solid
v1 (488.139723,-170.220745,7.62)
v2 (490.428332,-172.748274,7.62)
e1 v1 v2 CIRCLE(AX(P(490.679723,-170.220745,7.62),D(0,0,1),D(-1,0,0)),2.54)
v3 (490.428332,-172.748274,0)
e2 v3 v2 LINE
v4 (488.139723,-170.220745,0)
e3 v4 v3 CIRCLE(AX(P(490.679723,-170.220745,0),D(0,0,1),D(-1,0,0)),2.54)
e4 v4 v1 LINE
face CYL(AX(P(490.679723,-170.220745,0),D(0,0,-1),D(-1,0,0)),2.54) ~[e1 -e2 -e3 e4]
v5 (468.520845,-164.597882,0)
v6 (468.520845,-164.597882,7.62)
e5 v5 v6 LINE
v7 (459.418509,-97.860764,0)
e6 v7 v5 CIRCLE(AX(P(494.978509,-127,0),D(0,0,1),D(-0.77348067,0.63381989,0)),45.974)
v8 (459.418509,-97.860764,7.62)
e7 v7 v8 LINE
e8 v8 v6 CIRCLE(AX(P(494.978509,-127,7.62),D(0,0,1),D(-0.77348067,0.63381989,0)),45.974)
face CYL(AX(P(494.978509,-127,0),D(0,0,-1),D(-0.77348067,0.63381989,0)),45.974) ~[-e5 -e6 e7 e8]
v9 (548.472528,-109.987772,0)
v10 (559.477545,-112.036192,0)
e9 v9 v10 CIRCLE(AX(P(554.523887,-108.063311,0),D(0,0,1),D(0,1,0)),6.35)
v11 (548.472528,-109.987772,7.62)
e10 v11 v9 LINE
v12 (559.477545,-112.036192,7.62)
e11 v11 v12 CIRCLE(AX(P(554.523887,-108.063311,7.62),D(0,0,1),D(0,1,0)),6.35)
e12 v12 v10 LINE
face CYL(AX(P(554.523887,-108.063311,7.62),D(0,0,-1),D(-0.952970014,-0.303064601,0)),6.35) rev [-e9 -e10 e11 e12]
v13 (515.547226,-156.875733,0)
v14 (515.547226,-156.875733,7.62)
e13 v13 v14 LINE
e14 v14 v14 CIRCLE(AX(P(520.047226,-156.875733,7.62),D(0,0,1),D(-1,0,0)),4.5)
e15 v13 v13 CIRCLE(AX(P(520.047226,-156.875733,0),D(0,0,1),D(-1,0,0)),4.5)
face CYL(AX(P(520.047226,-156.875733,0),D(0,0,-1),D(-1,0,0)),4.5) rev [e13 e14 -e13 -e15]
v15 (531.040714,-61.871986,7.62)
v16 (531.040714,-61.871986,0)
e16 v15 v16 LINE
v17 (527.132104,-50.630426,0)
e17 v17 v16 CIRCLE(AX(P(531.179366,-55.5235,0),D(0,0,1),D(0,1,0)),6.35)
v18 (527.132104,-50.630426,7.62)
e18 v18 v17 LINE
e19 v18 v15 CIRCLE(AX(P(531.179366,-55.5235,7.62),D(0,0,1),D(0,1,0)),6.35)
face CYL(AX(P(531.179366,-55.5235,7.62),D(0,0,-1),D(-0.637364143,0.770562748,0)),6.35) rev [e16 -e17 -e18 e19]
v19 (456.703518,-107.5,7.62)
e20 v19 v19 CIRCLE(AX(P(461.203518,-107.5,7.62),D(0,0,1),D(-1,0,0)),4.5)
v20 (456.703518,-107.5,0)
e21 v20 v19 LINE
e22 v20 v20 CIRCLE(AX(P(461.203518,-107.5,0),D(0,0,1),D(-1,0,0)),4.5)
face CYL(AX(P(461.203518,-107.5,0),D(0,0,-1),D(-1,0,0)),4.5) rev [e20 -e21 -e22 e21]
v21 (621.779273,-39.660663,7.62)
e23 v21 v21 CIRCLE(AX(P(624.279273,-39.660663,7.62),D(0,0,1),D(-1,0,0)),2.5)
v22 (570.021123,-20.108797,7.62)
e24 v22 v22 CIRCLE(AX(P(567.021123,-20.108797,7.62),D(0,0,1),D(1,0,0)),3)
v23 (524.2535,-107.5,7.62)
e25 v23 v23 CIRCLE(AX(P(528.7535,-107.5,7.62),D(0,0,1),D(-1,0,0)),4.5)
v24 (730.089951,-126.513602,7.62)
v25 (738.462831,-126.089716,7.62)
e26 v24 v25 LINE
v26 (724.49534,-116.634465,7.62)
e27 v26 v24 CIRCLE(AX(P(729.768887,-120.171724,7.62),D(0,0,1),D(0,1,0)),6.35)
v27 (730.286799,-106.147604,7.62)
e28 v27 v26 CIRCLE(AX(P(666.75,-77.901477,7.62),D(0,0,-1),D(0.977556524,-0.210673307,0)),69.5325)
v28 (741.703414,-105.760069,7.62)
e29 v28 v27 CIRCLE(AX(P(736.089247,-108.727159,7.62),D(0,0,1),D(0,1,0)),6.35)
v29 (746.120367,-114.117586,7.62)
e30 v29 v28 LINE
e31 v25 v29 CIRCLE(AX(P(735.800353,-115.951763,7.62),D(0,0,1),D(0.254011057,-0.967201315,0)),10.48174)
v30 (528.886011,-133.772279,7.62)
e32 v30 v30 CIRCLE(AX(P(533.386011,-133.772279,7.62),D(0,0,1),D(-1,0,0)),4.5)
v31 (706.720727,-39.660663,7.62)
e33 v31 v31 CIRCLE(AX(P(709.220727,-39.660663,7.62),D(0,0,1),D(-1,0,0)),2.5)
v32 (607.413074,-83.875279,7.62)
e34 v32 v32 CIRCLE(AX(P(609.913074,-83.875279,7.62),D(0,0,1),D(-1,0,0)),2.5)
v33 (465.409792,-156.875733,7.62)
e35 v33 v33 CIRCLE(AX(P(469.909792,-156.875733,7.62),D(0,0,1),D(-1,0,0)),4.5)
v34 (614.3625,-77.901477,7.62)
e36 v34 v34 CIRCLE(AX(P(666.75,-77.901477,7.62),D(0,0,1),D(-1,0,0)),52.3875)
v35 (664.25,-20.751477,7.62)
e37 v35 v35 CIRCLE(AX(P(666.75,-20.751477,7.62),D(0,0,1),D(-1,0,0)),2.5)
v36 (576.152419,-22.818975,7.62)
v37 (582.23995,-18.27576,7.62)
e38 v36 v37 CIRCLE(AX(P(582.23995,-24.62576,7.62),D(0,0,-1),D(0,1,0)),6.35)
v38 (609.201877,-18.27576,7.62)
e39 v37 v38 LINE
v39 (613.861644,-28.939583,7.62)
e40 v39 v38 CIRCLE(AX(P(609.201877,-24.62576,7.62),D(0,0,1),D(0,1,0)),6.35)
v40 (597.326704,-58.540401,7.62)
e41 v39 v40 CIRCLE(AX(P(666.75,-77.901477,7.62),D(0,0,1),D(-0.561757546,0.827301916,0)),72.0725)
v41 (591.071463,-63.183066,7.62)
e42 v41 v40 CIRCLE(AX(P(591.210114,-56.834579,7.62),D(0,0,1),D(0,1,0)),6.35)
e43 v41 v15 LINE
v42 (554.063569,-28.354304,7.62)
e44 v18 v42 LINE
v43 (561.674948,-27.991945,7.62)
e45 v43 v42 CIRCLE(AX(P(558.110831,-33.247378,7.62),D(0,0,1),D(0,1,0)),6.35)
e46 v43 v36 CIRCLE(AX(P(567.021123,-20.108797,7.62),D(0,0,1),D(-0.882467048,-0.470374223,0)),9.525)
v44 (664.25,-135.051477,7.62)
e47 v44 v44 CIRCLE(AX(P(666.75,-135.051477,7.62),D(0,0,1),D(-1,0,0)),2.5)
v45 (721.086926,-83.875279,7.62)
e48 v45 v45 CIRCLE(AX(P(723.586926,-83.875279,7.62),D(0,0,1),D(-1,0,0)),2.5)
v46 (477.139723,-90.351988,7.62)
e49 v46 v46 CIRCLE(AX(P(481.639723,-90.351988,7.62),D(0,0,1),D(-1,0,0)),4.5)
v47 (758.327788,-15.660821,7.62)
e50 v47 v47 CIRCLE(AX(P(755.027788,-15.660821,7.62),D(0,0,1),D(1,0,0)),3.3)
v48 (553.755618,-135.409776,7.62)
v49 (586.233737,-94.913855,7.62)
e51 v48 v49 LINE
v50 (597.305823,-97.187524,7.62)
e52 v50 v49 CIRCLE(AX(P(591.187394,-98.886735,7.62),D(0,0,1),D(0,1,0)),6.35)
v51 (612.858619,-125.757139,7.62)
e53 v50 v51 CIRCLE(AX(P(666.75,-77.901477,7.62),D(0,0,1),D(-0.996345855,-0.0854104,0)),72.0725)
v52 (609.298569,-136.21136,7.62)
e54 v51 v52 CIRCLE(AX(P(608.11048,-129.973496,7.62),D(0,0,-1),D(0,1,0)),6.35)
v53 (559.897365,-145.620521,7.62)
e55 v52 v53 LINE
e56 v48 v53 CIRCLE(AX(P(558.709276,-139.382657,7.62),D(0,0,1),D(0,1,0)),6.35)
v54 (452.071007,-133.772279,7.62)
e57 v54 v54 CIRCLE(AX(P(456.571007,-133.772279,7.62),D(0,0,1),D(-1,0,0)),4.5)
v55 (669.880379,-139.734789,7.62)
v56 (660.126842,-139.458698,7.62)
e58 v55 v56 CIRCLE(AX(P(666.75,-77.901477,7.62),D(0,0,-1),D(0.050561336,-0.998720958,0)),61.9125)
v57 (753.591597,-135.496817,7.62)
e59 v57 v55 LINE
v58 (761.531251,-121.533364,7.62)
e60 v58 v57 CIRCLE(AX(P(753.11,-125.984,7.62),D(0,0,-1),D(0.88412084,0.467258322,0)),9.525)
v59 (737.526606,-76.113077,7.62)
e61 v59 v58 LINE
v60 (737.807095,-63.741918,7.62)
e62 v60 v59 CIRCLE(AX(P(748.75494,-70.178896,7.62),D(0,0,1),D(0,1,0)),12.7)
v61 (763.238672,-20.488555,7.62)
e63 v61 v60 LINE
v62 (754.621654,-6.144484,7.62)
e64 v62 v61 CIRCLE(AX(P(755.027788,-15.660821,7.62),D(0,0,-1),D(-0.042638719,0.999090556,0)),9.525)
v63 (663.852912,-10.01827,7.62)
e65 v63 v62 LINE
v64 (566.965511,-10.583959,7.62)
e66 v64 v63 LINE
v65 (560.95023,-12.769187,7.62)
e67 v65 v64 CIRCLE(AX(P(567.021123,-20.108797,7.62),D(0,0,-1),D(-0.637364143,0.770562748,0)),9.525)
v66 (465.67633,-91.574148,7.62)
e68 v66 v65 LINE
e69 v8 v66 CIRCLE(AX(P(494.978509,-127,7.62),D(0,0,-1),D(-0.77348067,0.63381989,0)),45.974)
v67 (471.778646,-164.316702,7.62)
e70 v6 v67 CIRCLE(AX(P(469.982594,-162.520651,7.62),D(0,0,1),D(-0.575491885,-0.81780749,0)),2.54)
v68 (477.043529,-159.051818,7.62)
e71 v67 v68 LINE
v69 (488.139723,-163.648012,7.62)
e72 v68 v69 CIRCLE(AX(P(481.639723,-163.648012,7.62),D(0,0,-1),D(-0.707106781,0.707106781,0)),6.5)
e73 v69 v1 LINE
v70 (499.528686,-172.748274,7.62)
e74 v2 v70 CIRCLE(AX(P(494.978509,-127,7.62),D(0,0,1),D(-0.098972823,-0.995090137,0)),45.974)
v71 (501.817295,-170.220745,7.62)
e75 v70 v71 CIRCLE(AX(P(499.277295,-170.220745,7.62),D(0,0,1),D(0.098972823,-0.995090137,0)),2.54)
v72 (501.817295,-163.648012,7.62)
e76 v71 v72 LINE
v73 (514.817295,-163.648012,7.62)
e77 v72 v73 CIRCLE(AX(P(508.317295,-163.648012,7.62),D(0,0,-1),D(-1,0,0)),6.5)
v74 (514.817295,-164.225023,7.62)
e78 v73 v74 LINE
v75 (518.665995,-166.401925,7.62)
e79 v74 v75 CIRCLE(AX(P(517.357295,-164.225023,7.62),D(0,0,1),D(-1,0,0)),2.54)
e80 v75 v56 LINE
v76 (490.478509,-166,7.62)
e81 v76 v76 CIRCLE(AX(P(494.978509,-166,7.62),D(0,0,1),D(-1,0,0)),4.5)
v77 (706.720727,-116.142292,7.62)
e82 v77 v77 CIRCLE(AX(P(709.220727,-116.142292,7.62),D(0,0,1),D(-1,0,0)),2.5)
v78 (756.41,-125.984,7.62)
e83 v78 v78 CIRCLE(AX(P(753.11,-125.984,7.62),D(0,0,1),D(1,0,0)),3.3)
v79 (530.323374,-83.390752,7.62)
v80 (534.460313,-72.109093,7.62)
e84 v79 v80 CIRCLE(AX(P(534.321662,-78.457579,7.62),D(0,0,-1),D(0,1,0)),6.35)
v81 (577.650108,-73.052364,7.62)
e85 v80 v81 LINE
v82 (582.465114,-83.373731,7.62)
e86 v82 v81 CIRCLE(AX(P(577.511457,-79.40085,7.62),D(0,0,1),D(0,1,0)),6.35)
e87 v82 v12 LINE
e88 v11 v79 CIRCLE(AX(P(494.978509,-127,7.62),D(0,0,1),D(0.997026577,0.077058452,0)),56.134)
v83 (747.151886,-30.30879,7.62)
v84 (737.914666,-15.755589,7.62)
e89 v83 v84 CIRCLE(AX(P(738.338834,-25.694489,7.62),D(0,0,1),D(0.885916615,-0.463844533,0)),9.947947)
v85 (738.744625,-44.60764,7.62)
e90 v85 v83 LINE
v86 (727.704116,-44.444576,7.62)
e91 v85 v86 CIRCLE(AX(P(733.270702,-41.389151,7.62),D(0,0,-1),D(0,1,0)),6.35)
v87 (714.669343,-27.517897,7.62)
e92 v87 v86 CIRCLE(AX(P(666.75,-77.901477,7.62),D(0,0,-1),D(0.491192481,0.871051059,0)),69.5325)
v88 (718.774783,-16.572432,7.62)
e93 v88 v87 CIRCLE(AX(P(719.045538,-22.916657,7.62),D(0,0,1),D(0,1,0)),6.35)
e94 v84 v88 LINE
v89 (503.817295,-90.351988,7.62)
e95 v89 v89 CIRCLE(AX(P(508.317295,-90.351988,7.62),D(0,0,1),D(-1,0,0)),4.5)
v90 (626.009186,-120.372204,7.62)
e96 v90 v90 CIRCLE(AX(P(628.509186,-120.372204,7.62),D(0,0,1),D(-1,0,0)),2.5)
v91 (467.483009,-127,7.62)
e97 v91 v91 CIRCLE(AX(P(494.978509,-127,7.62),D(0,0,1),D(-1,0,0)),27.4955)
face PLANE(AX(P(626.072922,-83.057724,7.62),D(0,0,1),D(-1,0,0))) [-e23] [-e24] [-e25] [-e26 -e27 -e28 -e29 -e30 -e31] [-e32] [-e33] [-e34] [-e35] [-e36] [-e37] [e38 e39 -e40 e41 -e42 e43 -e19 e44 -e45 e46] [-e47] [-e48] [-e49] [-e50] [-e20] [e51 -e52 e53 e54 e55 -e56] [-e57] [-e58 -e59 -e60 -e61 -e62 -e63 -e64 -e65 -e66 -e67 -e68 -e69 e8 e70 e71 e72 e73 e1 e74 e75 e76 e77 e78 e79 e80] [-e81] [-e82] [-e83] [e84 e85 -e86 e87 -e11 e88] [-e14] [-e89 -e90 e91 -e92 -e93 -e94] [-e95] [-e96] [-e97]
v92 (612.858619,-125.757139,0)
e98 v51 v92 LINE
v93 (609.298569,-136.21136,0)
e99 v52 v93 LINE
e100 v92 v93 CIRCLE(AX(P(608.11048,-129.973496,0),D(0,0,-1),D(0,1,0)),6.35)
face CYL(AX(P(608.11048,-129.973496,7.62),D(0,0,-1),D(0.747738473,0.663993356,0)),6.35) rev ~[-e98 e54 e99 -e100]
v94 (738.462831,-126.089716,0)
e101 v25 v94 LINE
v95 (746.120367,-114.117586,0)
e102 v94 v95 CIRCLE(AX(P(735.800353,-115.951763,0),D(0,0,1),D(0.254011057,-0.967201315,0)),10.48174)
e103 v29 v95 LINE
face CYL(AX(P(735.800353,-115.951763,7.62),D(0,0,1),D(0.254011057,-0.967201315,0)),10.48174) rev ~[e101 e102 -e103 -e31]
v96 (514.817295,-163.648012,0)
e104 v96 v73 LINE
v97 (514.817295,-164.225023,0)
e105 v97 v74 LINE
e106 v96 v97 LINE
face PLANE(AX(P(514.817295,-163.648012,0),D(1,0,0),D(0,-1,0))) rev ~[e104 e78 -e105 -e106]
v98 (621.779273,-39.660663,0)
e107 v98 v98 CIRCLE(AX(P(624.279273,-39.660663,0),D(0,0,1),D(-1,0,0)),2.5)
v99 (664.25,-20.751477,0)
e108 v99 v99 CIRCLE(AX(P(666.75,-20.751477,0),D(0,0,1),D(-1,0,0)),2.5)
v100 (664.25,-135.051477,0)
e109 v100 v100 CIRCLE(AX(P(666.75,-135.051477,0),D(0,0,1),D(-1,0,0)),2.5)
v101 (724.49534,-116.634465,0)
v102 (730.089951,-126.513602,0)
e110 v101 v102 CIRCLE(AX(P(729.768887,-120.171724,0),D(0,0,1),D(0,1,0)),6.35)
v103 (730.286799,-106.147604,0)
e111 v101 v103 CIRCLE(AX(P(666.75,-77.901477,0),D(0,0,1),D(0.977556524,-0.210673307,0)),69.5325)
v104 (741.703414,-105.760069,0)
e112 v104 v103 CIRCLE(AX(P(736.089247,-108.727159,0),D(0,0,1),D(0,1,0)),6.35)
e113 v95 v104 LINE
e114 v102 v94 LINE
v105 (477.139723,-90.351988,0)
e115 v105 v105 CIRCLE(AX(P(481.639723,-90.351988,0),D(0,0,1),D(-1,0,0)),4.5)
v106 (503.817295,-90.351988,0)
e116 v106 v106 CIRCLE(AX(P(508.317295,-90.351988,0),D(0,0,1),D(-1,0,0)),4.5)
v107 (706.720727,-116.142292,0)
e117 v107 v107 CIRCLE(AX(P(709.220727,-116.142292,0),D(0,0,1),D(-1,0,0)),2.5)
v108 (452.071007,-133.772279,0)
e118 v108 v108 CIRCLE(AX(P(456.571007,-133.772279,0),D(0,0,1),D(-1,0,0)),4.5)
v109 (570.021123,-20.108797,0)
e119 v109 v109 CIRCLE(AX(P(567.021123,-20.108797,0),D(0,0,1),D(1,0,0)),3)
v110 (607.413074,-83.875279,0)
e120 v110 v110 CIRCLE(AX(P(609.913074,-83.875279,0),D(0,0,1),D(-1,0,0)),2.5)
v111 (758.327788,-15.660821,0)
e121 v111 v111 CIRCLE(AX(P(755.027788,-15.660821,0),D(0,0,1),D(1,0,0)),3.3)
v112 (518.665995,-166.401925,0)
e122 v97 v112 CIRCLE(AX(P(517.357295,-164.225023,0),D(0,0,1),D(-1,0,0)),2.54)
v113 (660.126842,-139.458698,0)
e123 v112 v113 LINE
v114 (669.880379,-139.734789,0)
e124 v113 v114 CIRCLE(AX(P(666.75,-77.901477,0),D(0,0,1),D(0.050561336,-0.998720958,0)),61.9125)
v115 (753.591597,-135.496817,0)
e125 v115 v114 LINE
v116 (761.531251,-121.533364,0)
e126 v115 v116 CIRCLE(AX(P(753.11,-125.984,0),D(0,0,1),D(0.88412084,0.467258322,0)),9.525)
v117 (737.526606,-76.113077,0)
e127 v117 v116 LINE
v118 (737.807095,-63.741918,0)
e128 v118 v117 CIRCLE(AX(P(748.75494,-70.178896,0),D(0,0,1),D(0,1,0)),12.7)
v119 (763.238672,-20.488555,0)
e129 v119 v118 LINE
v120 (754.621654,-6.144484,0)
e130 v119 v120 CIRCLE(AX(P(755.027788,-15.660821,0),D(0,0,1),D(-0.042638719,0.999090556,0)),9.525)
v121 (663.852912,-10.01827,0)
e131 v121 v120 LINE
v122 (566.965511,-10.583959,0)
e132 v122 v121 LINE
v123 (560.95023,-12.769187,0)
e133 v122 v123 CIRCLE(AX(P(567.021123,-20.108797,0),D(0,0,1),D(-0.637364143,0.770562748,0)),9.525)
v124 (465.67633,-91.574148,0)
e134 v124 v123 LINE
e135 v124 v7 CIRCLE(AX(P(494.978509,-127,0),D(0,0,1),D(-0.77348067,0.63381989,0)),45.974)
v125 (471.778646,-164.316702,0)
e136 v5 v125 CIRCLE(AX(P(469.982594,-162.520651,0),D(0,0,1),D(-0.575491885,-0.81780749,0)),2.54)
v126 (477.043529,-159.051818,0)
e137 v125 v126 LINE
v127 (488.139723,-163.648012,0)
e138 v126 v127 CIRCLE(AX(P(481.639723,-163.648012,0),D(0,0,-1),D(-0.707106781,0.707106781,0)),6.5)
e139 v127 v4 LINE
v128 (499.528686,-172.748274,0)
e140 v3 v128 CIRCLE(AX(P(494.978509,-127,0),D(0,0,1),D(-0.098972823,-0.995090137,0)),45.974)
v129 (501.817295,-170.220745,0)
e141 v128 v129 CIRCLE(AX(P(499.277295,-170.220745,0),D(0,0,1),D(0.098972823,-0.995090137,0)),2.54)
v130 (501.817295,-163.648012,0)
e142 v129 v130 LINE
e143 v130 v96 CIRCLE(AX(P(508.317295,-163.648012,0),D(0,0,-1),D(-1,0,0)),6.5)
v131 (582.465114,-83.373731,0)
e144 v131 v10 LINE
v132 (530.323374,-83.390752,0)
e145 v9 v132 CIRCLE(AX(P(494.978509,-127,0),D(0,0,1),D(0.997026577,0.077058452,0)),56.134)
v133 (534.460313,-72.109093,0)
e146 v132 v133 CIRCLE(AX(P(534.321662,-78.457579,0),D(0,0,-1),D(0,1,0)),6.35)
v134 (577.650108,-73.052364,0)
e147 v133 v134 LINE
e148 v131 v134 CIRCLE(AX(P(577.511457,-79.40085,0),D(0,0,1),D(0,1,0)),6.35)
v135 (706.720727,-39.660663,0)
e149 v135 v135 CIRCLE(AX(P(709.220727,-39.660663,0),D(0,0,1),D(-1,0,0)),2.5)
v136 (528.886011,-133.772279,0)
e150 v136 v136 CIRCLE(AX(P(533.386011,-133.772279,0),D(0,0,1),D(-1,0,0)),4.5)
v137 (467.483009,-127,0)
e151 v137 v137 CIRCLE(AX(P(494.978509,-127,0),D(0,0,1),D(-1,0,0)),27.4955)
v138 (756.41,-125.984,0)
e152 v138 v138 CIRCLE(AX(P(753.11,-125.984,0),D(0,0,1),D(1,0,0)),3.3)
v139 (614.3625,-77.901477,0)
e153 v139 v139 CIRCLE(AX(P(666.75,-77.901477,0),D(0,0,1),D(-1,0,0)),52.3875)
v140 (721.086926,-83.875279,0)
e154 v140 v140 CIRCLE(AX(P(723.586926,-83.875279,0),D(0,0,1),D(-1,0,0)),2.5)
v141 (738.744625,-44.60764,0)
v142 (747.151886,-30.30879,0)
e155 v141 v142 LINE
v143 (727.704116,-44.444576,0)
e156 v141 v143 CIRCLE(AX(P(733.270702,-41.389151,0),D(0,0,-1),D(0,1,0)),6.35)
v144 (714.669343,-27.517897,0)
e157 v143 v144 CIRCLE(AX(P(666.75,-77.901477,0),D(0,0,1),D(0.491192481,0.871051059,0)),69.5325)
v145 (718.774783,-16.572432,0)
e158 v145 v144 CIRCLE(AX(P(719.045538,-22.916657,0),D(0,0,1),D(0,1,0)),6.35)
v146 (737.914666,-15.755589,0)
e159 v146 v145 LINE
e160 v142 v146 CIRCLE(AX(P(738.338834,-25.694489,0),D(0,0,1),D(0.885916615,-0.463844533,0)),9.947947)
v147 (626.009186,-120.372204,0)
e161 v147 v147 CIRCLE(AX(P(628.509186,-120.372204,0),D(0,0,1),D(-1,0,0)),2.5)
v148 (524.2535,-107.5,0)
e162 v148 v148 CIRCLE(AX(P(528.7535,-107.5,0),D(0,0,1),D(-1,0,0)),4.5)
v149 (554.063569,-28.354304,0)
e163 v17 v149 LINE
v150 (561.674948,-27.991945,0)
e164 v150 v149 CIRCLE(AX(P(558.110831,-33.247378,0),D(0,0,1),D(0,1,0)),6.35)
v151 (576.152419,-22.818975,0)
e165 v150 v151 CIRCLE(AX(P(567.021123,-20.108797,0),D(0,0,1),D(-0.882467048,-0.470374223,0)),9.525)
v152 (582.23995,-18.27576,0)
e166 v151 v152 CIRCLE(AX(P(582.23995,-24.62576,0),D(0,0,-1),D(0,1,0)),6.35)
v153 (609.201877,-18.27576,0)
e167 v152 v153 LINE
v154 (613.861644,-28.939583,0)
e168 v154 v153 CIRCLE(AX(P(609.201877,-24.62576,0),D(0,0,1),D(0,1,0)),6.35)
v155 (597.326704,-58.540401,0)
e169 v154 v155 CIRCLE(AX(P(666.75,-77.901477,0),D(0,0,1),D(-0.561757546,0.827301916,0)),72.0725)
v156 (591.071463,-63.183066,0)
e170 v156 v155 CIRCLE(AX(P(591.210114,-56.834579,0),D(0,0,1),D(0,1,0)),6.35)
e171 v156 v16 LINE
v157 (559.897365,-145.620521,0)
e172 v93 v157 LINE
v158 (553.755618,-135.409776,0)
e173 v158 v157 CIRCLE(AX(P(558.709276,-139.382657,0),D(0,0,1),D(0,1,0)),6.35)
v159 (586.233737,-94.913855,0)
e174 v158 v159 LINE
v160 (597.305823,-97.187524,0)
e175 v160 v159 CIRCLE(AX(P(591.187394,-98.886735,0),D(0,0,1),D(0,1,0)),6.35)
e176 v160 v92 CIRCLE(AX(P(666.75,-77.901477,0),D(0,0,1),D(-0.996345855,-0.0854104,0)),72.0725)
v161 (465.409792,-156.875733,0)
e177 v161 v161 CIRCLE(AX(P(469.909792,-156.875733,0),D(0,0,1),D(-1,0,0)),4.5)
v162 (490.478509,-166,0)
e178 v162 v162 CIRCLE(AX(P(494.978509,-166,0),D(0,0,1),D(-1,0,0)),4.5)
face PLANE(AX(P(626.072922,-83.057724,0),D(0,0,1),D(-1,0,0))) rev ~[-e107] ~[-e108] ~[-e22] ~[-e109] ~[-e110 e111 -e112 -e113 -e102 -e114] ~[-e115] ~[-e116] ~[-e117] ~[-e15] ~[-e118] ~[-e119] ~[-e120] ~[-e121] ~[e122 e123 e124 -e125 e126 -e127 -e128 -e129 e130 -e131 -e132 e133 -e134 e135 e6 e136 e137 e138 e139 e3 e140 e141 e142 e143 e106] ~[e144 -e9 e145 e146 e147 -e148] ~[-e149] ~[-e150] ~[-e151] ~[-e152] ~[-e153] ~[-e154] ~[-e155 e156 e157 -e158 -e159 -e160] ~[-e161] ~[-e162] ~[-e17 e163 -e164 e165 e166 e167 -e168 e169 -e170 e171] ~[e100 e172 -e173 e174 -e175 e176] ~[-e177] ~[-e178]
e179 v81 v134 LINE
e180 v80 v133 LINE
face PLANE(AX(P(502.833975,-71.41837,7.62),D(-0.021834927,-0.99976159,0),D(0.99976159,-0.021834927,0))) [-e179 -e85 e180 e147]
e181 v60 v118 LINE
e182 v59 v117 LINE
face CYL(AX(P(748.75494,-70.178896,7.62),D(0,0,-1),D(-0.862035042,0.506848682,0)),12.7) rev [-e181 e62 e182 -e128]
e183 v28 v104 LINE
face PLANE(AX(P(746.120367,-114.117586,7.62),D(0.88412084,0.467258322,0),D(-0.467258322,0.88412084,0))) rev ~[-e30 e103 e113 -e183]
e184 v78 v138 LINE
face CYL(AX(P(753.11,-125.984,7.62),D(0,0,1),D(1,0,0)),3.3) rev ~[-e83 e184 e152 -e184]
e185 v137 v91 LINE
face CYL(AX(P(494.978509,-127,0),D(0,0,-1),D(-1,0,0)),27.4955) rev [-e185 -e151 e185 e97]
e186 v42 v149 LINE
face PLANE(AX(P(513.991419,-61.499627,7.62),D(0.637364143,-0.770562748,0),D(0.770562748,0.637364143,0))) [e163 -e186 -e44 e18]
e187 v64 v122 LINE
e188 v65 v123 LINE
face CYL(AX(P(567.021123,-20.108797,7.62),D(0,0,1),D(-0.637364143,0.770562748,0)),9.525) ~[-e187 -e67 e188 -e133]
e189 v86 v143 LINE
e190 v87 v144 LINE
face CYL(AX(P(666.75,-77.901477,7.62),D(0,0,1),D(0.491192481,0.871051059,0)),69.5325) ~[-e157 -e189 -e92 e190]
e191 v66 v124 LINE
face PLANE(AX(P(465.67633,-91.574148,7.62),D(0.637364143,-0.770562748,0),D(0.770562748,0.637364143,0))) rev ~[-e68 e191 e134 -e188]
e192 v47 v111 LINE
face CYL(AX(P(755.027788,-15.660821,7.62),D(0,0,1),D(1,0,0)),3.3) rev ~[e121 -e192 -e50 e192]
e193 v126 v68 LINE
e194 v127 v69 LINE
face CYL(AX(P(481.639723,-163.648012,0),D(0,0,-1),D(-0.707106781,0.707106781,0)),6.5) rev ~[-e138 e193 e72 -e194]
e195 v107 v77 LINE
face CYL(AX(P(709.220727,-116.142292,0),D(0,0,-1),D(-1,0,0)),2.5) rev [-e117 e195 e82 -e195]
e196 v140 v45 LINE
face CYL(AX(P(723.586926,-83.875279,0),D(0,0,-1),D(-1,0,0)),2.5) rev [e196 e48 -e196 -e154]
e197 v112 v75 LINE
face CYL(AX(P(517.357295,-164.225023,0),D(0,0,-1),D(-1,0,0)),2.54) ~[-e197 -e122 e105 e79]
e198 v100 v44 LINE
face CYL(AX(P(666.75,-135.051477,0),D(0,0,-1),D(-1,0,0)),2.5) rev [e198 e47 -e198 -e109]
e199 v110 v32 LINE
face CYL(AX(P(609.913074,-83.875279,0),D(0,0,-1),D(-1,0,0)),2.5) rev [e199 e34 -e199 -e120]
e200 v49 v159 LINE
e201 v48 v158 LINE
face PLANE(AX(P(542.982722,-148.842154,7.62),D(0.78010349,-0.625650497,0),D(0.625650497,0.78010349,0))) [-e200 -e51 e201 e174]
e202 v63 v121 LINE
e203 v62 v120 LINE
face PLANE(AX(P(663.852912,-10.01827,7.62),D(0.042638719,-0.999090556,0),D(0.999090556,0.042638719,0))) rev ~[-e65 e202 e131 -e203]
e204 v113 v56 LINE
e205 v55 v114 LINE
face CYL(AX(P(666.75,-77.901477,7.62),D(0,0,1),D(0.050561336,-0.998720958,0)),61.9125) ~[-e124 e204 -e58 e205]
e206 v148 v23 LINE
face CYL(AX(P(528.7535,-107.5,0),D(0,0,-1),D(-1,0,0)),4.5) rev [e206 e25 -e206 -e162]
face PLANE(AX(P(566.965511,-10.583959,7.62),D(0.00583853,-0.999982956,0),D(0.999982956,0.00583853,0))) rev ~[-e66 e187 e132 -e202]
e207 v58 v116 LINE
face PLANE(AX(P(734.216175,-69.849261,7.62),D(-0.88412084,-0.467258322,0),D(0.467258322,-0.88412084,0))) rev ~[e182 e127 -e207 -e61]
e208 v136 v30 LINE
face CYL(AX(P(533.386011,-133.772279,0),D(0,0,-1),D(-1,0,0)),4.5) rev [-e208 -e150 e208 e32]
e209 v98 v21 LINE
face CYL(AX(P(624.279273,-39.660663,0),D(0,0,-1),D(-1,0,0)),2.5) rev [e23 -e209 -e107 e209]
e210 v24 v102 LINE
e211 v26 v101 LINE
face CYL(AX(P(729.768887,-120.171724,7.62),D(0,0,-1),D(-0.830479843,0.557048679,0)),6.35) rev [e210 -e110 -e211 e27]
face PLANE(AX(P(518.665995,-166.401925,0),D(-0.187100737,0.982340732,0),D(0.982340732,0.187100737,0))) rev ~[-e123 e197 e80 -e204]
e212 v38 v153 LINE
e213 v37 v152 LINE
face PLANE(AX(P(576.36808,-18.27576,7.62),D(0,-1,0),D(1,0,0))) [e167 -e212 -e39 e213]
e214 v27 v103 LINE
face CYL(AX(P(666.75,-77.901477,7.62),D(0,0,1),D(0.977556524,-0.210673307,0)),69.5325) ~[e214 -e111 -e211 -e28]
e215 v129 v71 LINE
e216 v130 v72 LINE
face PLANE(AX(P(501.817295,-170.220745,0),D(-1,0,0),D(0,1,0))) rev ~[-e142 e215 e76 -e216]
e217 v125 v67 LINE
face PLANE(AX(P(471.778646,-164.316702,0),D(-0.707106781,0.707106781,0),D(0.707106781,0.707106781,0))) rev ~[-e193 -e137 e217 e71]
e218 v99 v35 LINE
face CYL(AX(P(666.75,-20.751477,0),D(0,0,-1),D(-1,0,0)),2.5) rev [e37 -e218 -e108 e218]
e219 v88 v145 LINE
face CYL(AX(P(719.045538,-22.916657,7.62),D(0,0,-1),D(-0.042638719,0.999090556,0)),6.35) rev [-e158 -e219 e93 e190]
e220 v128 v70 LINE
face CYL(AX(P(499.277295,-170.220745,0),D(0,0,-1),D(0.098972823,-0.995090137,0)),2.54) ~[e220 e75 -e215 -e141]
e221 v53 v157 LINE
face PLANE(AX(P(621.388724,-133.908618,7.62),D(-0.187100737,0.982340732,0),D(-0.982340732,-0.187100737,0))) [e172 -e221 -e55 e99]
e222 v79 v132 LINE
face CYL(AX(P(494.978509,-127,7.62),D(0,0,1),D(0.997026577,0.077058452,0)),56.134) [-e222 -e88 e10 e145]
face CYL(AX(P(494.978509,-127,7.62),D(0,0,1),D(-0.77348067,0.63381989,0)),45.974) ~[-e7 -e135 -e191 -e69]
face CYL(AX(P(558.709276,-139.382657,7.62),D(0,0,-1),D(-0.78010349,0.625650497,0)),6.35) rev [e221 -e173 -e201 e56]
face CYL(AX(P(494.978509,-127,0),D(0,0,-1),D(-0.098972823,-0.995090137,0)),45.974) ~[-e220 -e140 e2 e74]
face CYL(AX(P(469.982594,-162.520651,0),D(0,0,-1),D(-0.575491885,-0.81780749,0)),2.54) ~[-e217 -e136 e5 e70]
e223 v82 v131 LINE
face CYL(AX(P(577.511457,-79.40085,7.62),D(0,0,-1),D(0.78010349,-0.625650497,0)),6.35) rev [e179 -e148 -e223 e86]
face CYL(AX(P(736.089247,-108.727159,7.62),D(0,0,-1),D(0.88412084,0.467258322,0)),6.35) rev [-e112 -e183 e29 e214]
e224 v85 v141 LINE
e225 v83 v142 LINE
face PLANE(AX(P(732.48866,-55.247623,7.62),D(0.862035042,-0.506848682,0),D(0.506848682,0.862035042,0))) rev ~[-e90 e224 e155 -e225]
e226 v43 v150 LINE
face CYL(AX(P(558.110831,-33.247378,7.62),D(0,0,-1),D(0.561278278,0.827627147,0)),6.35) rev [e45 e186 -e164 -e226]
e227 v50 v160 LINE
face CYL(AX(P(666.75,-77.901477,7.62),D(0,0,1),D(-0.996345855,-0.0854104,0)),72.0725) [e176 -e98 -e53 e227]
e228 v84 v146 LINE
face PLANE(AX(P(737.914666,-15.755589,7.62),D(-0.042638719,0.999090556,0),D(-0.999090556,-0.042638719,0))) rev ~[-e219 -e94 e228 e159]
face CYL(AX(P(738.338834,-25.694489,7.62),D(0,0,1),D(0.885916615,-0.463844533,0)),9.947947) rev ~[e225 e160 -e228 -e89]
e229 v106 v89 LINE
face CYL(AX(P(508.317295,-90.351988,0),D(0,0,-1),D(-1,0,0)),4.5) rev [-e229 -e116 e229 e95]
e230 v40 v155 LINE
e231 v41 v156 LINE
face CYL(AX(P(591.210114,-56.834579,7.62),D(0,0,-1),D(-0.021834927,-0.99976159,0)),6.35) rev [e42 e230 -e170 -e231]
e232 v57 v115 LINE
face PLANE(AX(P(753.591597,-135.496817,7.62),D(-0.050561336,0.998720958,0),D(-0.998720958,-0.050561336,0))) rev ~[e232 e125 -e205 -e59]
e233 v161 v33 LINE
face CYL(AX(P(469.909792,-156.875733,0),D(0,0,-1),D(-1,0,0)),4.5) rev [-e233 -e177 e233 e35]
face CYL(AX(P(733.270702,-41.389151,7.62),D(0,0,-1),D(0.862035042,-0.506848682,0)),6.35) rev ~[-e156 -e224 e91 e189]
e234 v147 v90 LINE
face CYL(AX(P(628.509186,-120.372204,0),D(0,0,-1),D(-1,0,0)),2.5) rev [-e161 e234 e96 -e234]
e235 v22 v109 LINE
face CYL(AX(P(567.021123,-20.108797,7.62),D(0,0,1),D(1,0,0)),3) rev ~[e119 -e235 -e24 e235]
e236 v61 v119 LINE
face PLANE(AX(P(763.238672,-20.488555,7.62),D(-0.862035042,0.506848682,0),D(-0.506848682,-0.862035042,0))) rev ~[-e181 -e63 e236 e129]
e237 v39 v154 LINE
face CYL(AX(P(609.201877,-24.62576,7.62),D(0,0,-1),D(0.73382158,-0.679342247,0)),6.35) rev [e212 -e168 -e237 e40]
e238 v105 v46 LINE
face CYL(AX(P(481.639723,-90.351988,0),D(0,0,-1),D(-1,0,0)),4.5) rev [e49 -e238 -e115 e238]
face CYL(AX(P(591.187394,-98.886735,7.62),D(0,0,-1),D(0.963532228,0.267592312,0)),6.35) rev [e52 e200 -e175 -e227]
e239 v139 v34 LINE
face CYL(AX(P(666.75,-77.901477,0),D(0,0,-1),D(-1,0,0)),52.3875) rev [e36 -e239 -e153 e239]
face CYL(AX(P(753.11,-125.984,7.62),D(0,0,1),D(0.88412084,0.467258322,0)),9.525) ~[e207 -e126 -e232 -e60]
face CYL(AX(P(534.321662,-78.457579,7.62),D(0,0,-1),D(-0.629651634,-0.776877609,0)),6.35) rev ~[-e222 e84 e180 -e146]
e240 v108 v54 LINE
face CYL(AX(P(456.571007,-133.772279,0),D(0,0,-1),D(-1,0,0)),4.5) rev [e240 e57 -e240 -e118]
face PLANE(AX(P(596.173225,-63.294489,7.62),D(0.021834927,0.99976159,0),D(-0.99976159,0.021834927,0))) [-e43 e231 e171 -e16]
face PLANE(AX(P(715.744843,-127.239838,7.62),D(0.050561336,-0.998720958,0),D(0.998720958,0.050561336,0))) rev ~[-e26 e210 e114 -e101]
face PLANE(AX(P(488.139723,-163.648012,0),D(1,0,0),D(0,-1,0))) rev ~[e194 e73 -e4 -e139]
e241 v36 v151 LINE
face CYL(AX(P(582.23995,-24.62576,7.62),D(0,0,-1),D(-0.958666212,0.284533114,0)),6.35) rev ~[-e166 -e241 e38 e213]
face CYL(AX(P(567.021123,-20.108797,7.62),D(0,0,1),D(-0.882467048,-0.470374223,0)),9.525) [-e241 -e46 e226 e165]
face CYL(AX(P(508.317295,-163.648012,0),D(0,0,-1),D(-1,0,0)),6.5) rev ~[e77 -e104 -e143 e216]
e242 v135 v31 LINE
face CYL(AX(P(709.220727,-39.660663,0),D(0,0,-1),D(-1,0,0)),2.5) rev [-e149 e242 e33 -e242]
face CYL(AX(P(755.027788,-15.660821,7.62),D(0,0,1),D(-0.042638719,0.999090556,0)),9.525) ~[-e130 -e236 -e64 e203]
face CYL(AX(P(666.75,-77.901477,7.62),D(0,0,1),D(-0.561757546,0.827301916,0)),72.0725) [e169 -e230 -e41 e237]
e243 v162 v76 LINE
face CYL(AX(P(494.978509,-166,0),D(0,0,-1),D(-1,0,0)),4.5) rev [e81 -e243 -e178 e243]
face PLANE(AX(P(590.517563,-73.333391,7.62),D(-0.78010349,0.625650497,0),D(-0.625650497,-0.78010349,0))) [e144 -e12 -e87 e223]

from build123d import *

# Parameters (mm, degrees)
SKETCH15_R          = 3.3
SKETCH15_R_2        = 2.5
SKETCH15_R_3        = 52.3875
SKETCH15_R_4        = 4.5
SKETCH15_R_5        = 27.4955
BOSS_EXTRUDE1_DEPTH = 7.62
SKETCH18_R          = 3.3
SKETCH18_R_2        = 3
PROFILE_DEPTH       = 804.110776731
PROF_FILLET_R       = 12.7
CUT_EXTRUDE2_DEPTH  = 784.912644787
FILLET2_R           = 6.35
CUT_EXTRUDE4_DEPTH  = 784.912644787
FILLET5_R           = 6.35


with BuildPart() as part:
    # Sketch15 → Boss-Extrude1 (new body)
    with BuildSketch(Plane(origin=(0, 0, 0), x_dir=(-1, 0, 0), z_dir=(0, 0, 1))):
        with BuildLine():
            ThreePointArc((-776.492771968, 151.978917225), (-781.907485254, 150.230614898), (-784.225, 145.034))
            Line((-784.225, 145.034), (-784.225, 0))
            ThreePointArc((-784.225, 0), (-782.179140867, -4.939140867), (-777.24, -6.985))
            Line((-777.24, -6.985), (-548.64, -6.985))
            ThreePointArc((-548.64, -6.985), (-545.651186694, -6.313257481), (-543.237237519, -4.427231931))
            Line((-543.237237519, -4.427231931), (-459.418508663, 97.860764379))
            ThreePointArc((-459.418508663, 97.860764379), (-449.426249212, 133.212914363), (-468.520845097, 164.597881552))
            ThreePointArc((-468.520845097, 164.597881552), (-470.201009111, 165.051242365), (-471.778645707, 164.316701751))
            Line((-471.778645707, 164.316701751), (-477.043529325, 159.051818133))
            ThreePointArc((-477.043529325, 159.051818133), (-484.127165713, 157.642795249), (-488.139723403, 163.648012211))
            Line((-488.139723403, 163.648012211), (-488.139723403, 170.220745001))
            ThreePointArc((-488.139723403, 170.220745001), (-488.796888696, 171.925600851), (-490.428332433, 172.748273949))
            ThreePointArc((-490.428332433, 172.748273949), (-494.978508993, 172.974), (-499.528685552, 172.748273949))
            ThreePointArc((-499.528685552, 172.748273949), (-501.160129289, 171.925600851), (-501.817294582, 170.220745001))
            Line((-501.817294582, 170.220745001), (-501.817294582, 163.648012211))
            ThreePointArc((-501.817294582, 163.648012211), (-508.317294582, 157.148012211), (-514.817294582, 163.648012211))
            Line((-514.817294582, 163.648012211), (-514.817294582, 164.225022653))
            ThreePointArc((-514.817294582, 164.225022653), (-516.106794745, 166.435870942), (-518.665995494, 166.401924563))
            Line((-518.665995494, 166.401924563), (-660.126842441, 139.458698233))
            Line((-660.126842441, 139.458698233), (-776.492771968, 151.978917225))
        make_face()
        with Locations((-777.24, 0)):
            Circle(SKETCH15_R, mode=Mode.SUBTRACT)
        with Locations((-709.220726776, 39.660663218)):
            Circle(SKETCH15_R_2, mode=Mode.SUBTRACT)
        with Locations((-666.75, 20.751477371)):
            Circle(SKETCH15_R_2, mode=Mode.SUBTRACT)
        with Locations((-624.279273224, 39.660663218)):
            Circle(SKETCH15_R_2, mode=Mode.SUBTRACT)
        with Locations((-666.75, 77.901477371)):
            Circle(SKETCH15_R_3, mode=Mode.SUBTRACT)
        with Locations((-548.64, 0)):
            Circle(SKETCH15_R, mode=Mode.SUBTRACT)
        with Locations((-723.58692632, 83.875279047)):
            Circle(SKETCH15_R_2, mode=Mode.SUBTRACT)
        with Locations((-709.220726776, 116.142291524)):
            Circle(SKETCH15_R_2, mode=Mode.SUBTRACT)
        with Locations((-628.509185847, 120.372204147)):
            Circle(SKETCH15_R_2, mode=Mode.SUBTRACT)
        with Locations((-777.24, 145.034)):
            Circle(SKETCH15_R, mode=Mode.SUBTRACT)
        with Locations((-666.75, 135.051477371)):
            Circle(SKETCH15_R_2, mode=Mode.SUBTRACT)
        with Locations((-609.91307368, 83.875279047)):
            Circle(SKETCH15_R_2, mode=Mode.SUBTRACT)
        with Locations((-508.317294582, 90.351987789)):
            Circle(SKETCH15_R_4, mode=Mode.SUBTRACT)
        with Locations((-481.639723403, 90.351987789)):
            Circle(SKETCH15_R_4, mode=Mode.SUBTRACT)
        with Locations((-528.75349974, 107.5)):
            Circle(SKETCH15_R_4, mode=Mode.SUBTRACT)
        with Locations((-494.978508993, 127)):
            Circle(SKETCH15_R_5, mode=Mode.SUBTRACT)
        with Locations((-461.203518245, 107.5)):
            Circle(SKETCH15_R_4, mode=Mode.SUBTRACT)
        with Locations((-533.38601136, 133.772278929)):
            Circle(SKETCH15_R_4, mode=Mode.SUBTRACT)
        with Locations((-456.571006625, 133.772278929)):
            Circle(SKETCH15_R_4, mode=Mode.SUBTRACT)
        with Locations((-520.04722577, 156.875733282)):
            Circle(SKETCH15_R_4, mode=Mode.SUBTRACT)
        with Locations((-494.978508993, 166)):
            Circle(SKETCH15_R_4, mode=Mode.SUBTRACT)
        with Locations((-469.909792215, 156.875733282)):
            Circle(SKETCH15_R_4, mode=Mode.SUBTRACT)
    extrude(amount=BOSS_EXTRUDE1_DEPTH)

    # Sketch18 → Profile (cut, through all)
    # profile 1 of 8: a face of its own
    with BuildSketch(Plane.XY.offset(7.62)):
        with BuildLine():
            Line((566.965511493, -10.583959195), (663.85291223, -10.018269525))
            Line((663.85291223, -10.018269525), (754.621654163, -6.144483643))
            ThreePointArc((754.621654163, -6.144483643), (763.192751251, -10.755823792), (763.238671737, -20.488554887))
            Line((763.238671737, -20.488554887), (734.216175486, -69.849260886))
            Line((734.216175486, -69.849260886), (761.531251005, -121.533364482))
            ThreePointArc((761.531251005, -121.533364482), (761.390077102, -130.692072661), (753.591596723, -135.496817122))
            Line((753.591596723, -135.496817122), (669.880378697, -139.734788664))
            ThreePointArc((669.880378697, -139.734788664), (664.998163099, -139.789187974), (660.126842441, -139.458698233))
            Line((660.126842441, -139.458698233), (776.492771968, -151.978917225))
            ThreePointArc((776.492771968, -151.978917225), (781.907485254, -150.230614898), (784.225, -145.034))
            Line((784.225, -145.034), (784.225, 0))
            ThreePointArc((784.225, 0), (782.179140867, 4.939140867), (777.24, 6.985))
            Line((777.24, 6.985), (548.64, 6.985))
            ThreePointArc((548.64, 6.985), (545.651186694, 6.313257481), (543.237237519, 4.427231931))
            Line((543.237237519, 4.427231931), (459.418508663, -97.860764379))
            ThreePointArc((459.418508663, -97.860764379), (462.395446423, -94.56617954), (465.676329874, -91.574148212))
            Line((465.676329874, -91.574148212), (560.95023003, -12.76918667))
            ThreePointArc((560.95023003, -12.76918667), (563.768843973, -11.156238391), (566.965511493, -10.583959195))
        make_face()
        with Locations((777.24, -145.034)):
            Circle(SKETCH18_R, mode=Mode.SUBTRACT)
        with Locations((548.64, 0)):
            Circle(SKETCH18_R, mode=Mode.SUBTRACT)
        with Locations((777.24, 0)):
            Circle(SKETCH18_R, mode=Mode.SUBTRACT)
    # profile 2 of 8: a face of its own
    with BuildSketch(Plane.XY.offset(7.62)):
        with BuildLine():
            Line((566.965511493, -10.583959195), (663.85291223, -10.018269525))
            Line((663.85291223, -10.018269525), (754.621654163, -6.144483643))
            ThreePointArc((754.621654163, -6.144483643), (763.192751251, -10.755823792), (763.238671737, -20.488554887))
            Line((763.238671737, -20.488554887), (734.216175486, -69.849260886))
            Line((734.216175486, -69.849260886), (761.531251005, -121.533364482))
            ThreePointArc((761.531251005, -121.533364482), (761.390077102, -130.692072661), (753.591596723, -135.496817122))
            Line((753.591596723, -135.496817122), (669.880378697, -139.734788664))
            ThreePointArc((669.880378697, -139.734788664), (664.998163099, -139.789187974), (660.126842441, -139.458698233))
            Line((660.126842441, -139.458698233), (776.492771968, -151.978917225))
            ThreePointArc((776.492771968, -151.978917225), (781.907485254, -150.230614898), (784.225, -145.034))
            Line((784.225, -145.034), (784.225, 0))
            ThreePointArc((784.225, 0), (782.179140867, 4.939140867), (777.24, 6.985))
            Line((777.24, 6.985), (548.64, 6.985))
            ThreePointArc((548.64, 6.985), (545.651186694, 6.313257481), (543.237237519, 4.427231931))
            Line((543.237237519, 4.427231931), (459.418508663, -97.860764379))
            ThreePointArc((459.418508663, -97.860764379), (462.395446423, -94.56617954), (465.676329874, -91.574148212))
            Line((465.676329874, -91.574148212), (560.95023003, -12.76918667))
            ThreePointArc((560.95023003, -12.76918667), (563.768843973, -11.156238391), (566.965511493, -10.583959195))
        make_face()
        with Locations((777.24, -145.034)):
            Circle(SKETCH18_R, mode=Mode.SUBTRACT)
        with Locations((548.64, 0)):
            Circle(SKETCH18_R, mode=Mode.SUBTRACT)
        with Locations((777.24, 0)):
            Circle(SKETCH18_R, mode=Mode.SUBTRACT)
    # profile 3 of 8: a face of its own
    with BuildSketch(Plane.XY.offset(7.62)):
        with BuildLine():
            Line((566.965511493, -10.583959195), (663.85291223, -10.018269525))
            Line((663.85291223, -10.018269525), (754.621654163, -6.144483643))
            ThreePointArc((754.621654163, -6.144483643), (763.192751251, -10.755823792), (763.238671737, -20.488554887))
            Line((763.238671737, -20.488554887), (734.216175486, -69.849260886))
            Line((734.216175486, -69.849260886), (761.531251005, -121.533364482))
            ThreePointArc((761.531251005, -121.533364482), (761.390077102, -130.692072661), (753.591596723, -135.496817122))
            Line((753.591596723, -135.496817122), (669.880378697, -139.734788664))
            ThreePointArc((669.880378697, -139.734788664), (664.998163099, -139.789187974), (660.126842441, -139.458698233))
            Line((660.126842441, -139.458698233), (776.492771968, -151.978917225))
            ThreePointArc((776.492771968, -151.978917225), (781.907485254, -150.230614898), (784.225, -145.034))
            Line((784.225, -145.034), (784.225, 0))
            ThreePointArc((784.225, 0), (782.179140867, 4.939140867), (777.24, 6.985))
            Line((777.24, 6.985), (548.64, 6.985))
            ThreePointArc((548.64, 6.985), (545.651186694, 6.313257481), (543.237237519, 4.427231931))
            Line((543.237237519, 4.427231931), (459.418508663, -97.860764379))
            ThreePointArc((459.418508663, -97.860764379), (462.395446423, -94.56617954), (465.676329874, -91.574148212))
            Line((465.676329874, -91.574148212), (560.95023003, -12.76918667))
            ThreePointArc((560.95023003, -12.76918667), (563.768843973, -11.156238391), (566.965511493, -10.583959195))
        make_face()
        with Locations((777.24, -145.034)):
            Circle(SKETCH18_R, mode=Mode.SUBTRACT)
        with Locations((548.64, 0)):
            Circle(SKETCH18_R, mode=Mode.SUBTRACT)
        with Locations((777.24, 0)):
            Circle(SKETCH18_R, mode=Mode.SUBTRACT)
    # profile 4 of 8: a face of its own
    with BuildSketch(Plane.XY.offset(7.62)):
        with BuildLine():
            Line((566.965511493, -10.583959195), (663.85291223, -10.018269525))
            Line((663.85291223, -10.018269525), (754.621654163, -6.144483643))
            ThreePointArc((754.621654163, -6.144483643), (763.192751251, -10.755823792), (763.238671737, -20.488554887))
            Line((763.238671737, -20.488554887), (734.216175486, -69.849260886))
            Line((734.216175486, -69.849260886), (761.531251005, -121.533364482))
            ThreePointArc((761.531251005, -121.533364482), (761.390077102, -130.692072661), (753.591596723, -135.496817122))
            Line((753.591596723, -135.496817122), (669.880378697, -139.734788664))
            ThreePointArc((669.880378697, -139.734788664), (664.998163099, -139.789187974), (660.126842441, -139.458698233))
            Line((660.126842441, -139.458698233), (776.492771968, -151.978917225))
            ThreePointArc((776.492771968, -151.978917225), (781.907485254, -150.230614898), (784.225, -145.034))
            Line((784.225, -145.034), (784.225, 0))
            ThreePointArc((784.225, 0), (782.179140867, 4.939140867), (777.24, 6.985))
            Line((777.24, 6.985), (548.64, 6.985))
            ThreePointArc((548.64, 6.985), (545.651186694, 6.313257481), (543.237237519, 4.427231931))
            Line((543.237237519, 4.427231931), (459.418508663, -97.860764379))
            ThreePointArc((459.418508663, -97.860764379), (462.395446423, -94.56617954), (465.676329874, -91.574148212))
            Line((465.676329874, -91.574148212), (560.95023003, -12.76918667))
            ThreePointArc((560.95023003, -12.76918667), (563.768843973, -11.156238391), (566.965511493, -10.583959195))
        make_face()
        with Locations((777.24, -145.034)):
            Circle(SKETCH18_R, mode=Mode.SUBTRACT)
        with Locations((548.64, 0)):
            Circle(SKETCH18_R, mode=Mode.SUBTRACT)
        with Locations((777.24, 0)):
            Circle(SKETCH18_R, mode=Mode.SUBTRACT)
    # profile 5 of 8: a face of its own
    with BuildSketch(Plane.XY.offset(7.62)):
        with BuildLine():
            Line((566.965511493, -10.583959195), (663.85291223, -10.018269525))
            Line((663.85291223, -10.018269525), (754.621654163, -6.144483643))
            ThreePointArc((754.621654163, -6.144483643), (763.192751251, -10.755823792), (763.238671737, -20.488554887))
            Line((763.238671737, -20.488554887), (734.216175486, -69.849260886))
            Line((734.216175486, -69.849260886), (761.531251005, -121.533364482))
            ThreePointArc((761.531251005, -121.533364482), (761.390077102, -130.692072661), (753.591596723, -135.496817122))
            Line((753.591596723, -135.496817122), (669.880378697, -139.734788664))
            ThreePointArc((669.880378697, -139.734788664), (664.998163099, -139.789187974), (660.126842441, -139.458698233))
            Line((660.126842441, -139.458698233), (776.492771968, -151.978917225))
            ThreePointArc((776.492771968, -151.978917225), (781.907485254, -150.230614898), (784.225, -145.034))
            Line((784.225, -145.034), (784.225, 0))
            ThreePointArc((784.225, 0), (782.179140867, 4.939140867), (777.24, 6.985))
            Line((777.24, 6.985), (548.64, 6.985))
            ThreePointArc((548.64, 6.985), (545.651186694, 6.313257481), (543.237237519, 4.427231931))
            Line((543.237237519, 4.427231931), (459.418508663, -97.860764379))
            ThreePointArc((459.418508663, -97.860764379), (462.395446423, -94.56617954), (465.676329874, -91.574148212))
            Line((465.676329874, -91.574148212), (560.95023003, -12.76918667))
            ThreePointArc((560.95023003, -12.76918667), (563.768843973, -11.156238391), (566.965511493, -10.583959195))
        make_face()
        with Locations((777.24, -145.034)):
            Circle(SKETCH18_R, mode=Mode.SUBTRACT)
        with Locations((548.64, 0)):
            Circle(SKETCH18_R, mode=Mode.SUBTRACT)
        with Locations((777.24, 0)):
            Circle(SKETCH18_R, mode=Mode.SUBTRACT)
    # profile 6 of 8: a face of its own
    with BuildSketch(Plane.XY.offset(7.62)):
        with Locations((755.027787962, -15.660821191)):
            Circle(SKETCH18_R)
    # profile 7 of 8: a face of its own
    with BuildSketch(Plane.XY.offset(7.62)):
        with Locations((567.021123494, -20.108796847)):
            Circle(SKETCH18_R_2)
    # profile 8 of 8: a face of its own
    with BuildSketch(Plane.XY.offset(7.62)):
        with Locations((753.11, -125.984)):
            Circle(SKETCH18_R)
    extrude(amount=-PROFILE_DEPTH, mode=Mode.SUBTRACT)

    # Prof Fillet
    prof_fillet_edges = [part.edges().sort_by_distance(p)[0] for p in [
        (734.216175486, -69.849260886, 3.81),
    ]]
    fillet(prof_fillet_edges, radius=PROF_FILLET_R)

    # Sketch19 → Cut-Extrude2 (cut, through all)
    with BuildSketch(Plane.XY.offset(7.62)):
        with BuildLine():
            Line((746.120366595, -114.117586287), (734.721949009, -92.550119087))
            ThreePointArc((734.721949009, -92.550119087), (727.751244155, -111.272374389), (715.744843377, -127.239838498))
            Line((715.744843377, -127.239838498), (738.462831206, -126.089715633))
            ThreePointArc((738.462831206, -126.089715633), (744.630372537, -121.59956212), (746.120366595, -114.117586287))
        make_face()
        with BuildLine():
            Line((732.48866001, -55.247622591), (747.151885785, -30.308789961))
            ThreePointArc((747.151885785, -30.308789961), (746.737777977, -20.36350464), (737.914666366, -15.755588962))
            Line((737.914666366, -15.755588962), (700.903841175, -17.335119636))
            ThreePointArc((700.903841175, -17.335119636), (720.172536614, -33.39528524), (732.48866001, -55.247622591))
        make_face()
    extrude(amount=-CUT_EXTRUDE2_DEPTH, mode=Mode.SUBTRACT)

    # Fillet2
    fillet2_edges = [part.edges().sort_by_distance(p)[0] for p in [
        (732.48866001, -55.247622591, 3.81),
        (700.903841175, -17.335119636, 3.81),
        (734.721949009, -92.550119087, 3.81),
        (715.744843377, -127.239838498, 3.81),
    ]]
    fillet(fillet2_edges, radius=FILLET2_R)

    # Sketch22 → Cut-Extrude4 (cut, through all)
    with BuildSketch(Plane.XY.offset(7.62)):
        with BuildLine():
            Line((621.388723544, -133.908618474), (542.982722013, -148.842154434))
            Line((542.982722013, -148.842154434), (594.94086334, -84.057218462))
            ThreePointArc((594.94086334, -84.057218462), (603.082763934, -111.679107661), (621.388723544, -133.908618474))
        make_face()
        with BuildLine():
            Line((576.368080274, -18.275760036), (626.262729302, -18.275760036))
            ThreePointArc((626.262729302, -18.275760036), (606.829410599, -37.851905313), (596.173225208, -63.294488764))
            Line((596.173225208, -63.294488764), (513.991419341, -61.499627151))
            Line((513.991419341, -61.499627151), (558.615624864, -24.58911132))
            ThreePointArc((558.615624864, -24.58911132), (570.212704132, -29.083173596), (576.368080274, -18.275760036))
        make_face()
        with BuildLine():
            Line((502.833975435, -71.418369914), (590.517562883, -73.333391171))
            Line((590.517562883, -73.333391171), (550.94559886, -122.674400877))
            ThreePointArc((550.94559886, -122.674400877), (535.906798121, -88.582541664), (502.833975435, -71.418369914))
        make_face()
    extrude(amount=-CUT_EXTRUDE4_DEPTH, mode=Mode.SUBTRACT)

    # Fillet5
    fillet5_edges = [part.edges().sort_by_distance(p)[0] for p in [
        (576.368080274, -18.275760036, 3.81),
        (626.262729302, -18.275760036, 3.81),
        (596.173225208, -63.294488764, 3.81),
        (513.991419341, -61.499627151, 3.81),
        (558.615624864, -24.58911132, 3.81),
        (621.388723544, -133.908618474, 3.81),
        (542.982722013, -148.842154434, 3.81),
        (594.94086334, -84.057218462, 3.81),
        (502.833975435, -71.418369914, 3.81),
        (590.517562883, -73.333391171, 3.81),
        (550.94559886, -122.674400877, 3.81),
    ]]
    fillet(fillet5_edges, radius=FILLET5_R)


solid = part.part
